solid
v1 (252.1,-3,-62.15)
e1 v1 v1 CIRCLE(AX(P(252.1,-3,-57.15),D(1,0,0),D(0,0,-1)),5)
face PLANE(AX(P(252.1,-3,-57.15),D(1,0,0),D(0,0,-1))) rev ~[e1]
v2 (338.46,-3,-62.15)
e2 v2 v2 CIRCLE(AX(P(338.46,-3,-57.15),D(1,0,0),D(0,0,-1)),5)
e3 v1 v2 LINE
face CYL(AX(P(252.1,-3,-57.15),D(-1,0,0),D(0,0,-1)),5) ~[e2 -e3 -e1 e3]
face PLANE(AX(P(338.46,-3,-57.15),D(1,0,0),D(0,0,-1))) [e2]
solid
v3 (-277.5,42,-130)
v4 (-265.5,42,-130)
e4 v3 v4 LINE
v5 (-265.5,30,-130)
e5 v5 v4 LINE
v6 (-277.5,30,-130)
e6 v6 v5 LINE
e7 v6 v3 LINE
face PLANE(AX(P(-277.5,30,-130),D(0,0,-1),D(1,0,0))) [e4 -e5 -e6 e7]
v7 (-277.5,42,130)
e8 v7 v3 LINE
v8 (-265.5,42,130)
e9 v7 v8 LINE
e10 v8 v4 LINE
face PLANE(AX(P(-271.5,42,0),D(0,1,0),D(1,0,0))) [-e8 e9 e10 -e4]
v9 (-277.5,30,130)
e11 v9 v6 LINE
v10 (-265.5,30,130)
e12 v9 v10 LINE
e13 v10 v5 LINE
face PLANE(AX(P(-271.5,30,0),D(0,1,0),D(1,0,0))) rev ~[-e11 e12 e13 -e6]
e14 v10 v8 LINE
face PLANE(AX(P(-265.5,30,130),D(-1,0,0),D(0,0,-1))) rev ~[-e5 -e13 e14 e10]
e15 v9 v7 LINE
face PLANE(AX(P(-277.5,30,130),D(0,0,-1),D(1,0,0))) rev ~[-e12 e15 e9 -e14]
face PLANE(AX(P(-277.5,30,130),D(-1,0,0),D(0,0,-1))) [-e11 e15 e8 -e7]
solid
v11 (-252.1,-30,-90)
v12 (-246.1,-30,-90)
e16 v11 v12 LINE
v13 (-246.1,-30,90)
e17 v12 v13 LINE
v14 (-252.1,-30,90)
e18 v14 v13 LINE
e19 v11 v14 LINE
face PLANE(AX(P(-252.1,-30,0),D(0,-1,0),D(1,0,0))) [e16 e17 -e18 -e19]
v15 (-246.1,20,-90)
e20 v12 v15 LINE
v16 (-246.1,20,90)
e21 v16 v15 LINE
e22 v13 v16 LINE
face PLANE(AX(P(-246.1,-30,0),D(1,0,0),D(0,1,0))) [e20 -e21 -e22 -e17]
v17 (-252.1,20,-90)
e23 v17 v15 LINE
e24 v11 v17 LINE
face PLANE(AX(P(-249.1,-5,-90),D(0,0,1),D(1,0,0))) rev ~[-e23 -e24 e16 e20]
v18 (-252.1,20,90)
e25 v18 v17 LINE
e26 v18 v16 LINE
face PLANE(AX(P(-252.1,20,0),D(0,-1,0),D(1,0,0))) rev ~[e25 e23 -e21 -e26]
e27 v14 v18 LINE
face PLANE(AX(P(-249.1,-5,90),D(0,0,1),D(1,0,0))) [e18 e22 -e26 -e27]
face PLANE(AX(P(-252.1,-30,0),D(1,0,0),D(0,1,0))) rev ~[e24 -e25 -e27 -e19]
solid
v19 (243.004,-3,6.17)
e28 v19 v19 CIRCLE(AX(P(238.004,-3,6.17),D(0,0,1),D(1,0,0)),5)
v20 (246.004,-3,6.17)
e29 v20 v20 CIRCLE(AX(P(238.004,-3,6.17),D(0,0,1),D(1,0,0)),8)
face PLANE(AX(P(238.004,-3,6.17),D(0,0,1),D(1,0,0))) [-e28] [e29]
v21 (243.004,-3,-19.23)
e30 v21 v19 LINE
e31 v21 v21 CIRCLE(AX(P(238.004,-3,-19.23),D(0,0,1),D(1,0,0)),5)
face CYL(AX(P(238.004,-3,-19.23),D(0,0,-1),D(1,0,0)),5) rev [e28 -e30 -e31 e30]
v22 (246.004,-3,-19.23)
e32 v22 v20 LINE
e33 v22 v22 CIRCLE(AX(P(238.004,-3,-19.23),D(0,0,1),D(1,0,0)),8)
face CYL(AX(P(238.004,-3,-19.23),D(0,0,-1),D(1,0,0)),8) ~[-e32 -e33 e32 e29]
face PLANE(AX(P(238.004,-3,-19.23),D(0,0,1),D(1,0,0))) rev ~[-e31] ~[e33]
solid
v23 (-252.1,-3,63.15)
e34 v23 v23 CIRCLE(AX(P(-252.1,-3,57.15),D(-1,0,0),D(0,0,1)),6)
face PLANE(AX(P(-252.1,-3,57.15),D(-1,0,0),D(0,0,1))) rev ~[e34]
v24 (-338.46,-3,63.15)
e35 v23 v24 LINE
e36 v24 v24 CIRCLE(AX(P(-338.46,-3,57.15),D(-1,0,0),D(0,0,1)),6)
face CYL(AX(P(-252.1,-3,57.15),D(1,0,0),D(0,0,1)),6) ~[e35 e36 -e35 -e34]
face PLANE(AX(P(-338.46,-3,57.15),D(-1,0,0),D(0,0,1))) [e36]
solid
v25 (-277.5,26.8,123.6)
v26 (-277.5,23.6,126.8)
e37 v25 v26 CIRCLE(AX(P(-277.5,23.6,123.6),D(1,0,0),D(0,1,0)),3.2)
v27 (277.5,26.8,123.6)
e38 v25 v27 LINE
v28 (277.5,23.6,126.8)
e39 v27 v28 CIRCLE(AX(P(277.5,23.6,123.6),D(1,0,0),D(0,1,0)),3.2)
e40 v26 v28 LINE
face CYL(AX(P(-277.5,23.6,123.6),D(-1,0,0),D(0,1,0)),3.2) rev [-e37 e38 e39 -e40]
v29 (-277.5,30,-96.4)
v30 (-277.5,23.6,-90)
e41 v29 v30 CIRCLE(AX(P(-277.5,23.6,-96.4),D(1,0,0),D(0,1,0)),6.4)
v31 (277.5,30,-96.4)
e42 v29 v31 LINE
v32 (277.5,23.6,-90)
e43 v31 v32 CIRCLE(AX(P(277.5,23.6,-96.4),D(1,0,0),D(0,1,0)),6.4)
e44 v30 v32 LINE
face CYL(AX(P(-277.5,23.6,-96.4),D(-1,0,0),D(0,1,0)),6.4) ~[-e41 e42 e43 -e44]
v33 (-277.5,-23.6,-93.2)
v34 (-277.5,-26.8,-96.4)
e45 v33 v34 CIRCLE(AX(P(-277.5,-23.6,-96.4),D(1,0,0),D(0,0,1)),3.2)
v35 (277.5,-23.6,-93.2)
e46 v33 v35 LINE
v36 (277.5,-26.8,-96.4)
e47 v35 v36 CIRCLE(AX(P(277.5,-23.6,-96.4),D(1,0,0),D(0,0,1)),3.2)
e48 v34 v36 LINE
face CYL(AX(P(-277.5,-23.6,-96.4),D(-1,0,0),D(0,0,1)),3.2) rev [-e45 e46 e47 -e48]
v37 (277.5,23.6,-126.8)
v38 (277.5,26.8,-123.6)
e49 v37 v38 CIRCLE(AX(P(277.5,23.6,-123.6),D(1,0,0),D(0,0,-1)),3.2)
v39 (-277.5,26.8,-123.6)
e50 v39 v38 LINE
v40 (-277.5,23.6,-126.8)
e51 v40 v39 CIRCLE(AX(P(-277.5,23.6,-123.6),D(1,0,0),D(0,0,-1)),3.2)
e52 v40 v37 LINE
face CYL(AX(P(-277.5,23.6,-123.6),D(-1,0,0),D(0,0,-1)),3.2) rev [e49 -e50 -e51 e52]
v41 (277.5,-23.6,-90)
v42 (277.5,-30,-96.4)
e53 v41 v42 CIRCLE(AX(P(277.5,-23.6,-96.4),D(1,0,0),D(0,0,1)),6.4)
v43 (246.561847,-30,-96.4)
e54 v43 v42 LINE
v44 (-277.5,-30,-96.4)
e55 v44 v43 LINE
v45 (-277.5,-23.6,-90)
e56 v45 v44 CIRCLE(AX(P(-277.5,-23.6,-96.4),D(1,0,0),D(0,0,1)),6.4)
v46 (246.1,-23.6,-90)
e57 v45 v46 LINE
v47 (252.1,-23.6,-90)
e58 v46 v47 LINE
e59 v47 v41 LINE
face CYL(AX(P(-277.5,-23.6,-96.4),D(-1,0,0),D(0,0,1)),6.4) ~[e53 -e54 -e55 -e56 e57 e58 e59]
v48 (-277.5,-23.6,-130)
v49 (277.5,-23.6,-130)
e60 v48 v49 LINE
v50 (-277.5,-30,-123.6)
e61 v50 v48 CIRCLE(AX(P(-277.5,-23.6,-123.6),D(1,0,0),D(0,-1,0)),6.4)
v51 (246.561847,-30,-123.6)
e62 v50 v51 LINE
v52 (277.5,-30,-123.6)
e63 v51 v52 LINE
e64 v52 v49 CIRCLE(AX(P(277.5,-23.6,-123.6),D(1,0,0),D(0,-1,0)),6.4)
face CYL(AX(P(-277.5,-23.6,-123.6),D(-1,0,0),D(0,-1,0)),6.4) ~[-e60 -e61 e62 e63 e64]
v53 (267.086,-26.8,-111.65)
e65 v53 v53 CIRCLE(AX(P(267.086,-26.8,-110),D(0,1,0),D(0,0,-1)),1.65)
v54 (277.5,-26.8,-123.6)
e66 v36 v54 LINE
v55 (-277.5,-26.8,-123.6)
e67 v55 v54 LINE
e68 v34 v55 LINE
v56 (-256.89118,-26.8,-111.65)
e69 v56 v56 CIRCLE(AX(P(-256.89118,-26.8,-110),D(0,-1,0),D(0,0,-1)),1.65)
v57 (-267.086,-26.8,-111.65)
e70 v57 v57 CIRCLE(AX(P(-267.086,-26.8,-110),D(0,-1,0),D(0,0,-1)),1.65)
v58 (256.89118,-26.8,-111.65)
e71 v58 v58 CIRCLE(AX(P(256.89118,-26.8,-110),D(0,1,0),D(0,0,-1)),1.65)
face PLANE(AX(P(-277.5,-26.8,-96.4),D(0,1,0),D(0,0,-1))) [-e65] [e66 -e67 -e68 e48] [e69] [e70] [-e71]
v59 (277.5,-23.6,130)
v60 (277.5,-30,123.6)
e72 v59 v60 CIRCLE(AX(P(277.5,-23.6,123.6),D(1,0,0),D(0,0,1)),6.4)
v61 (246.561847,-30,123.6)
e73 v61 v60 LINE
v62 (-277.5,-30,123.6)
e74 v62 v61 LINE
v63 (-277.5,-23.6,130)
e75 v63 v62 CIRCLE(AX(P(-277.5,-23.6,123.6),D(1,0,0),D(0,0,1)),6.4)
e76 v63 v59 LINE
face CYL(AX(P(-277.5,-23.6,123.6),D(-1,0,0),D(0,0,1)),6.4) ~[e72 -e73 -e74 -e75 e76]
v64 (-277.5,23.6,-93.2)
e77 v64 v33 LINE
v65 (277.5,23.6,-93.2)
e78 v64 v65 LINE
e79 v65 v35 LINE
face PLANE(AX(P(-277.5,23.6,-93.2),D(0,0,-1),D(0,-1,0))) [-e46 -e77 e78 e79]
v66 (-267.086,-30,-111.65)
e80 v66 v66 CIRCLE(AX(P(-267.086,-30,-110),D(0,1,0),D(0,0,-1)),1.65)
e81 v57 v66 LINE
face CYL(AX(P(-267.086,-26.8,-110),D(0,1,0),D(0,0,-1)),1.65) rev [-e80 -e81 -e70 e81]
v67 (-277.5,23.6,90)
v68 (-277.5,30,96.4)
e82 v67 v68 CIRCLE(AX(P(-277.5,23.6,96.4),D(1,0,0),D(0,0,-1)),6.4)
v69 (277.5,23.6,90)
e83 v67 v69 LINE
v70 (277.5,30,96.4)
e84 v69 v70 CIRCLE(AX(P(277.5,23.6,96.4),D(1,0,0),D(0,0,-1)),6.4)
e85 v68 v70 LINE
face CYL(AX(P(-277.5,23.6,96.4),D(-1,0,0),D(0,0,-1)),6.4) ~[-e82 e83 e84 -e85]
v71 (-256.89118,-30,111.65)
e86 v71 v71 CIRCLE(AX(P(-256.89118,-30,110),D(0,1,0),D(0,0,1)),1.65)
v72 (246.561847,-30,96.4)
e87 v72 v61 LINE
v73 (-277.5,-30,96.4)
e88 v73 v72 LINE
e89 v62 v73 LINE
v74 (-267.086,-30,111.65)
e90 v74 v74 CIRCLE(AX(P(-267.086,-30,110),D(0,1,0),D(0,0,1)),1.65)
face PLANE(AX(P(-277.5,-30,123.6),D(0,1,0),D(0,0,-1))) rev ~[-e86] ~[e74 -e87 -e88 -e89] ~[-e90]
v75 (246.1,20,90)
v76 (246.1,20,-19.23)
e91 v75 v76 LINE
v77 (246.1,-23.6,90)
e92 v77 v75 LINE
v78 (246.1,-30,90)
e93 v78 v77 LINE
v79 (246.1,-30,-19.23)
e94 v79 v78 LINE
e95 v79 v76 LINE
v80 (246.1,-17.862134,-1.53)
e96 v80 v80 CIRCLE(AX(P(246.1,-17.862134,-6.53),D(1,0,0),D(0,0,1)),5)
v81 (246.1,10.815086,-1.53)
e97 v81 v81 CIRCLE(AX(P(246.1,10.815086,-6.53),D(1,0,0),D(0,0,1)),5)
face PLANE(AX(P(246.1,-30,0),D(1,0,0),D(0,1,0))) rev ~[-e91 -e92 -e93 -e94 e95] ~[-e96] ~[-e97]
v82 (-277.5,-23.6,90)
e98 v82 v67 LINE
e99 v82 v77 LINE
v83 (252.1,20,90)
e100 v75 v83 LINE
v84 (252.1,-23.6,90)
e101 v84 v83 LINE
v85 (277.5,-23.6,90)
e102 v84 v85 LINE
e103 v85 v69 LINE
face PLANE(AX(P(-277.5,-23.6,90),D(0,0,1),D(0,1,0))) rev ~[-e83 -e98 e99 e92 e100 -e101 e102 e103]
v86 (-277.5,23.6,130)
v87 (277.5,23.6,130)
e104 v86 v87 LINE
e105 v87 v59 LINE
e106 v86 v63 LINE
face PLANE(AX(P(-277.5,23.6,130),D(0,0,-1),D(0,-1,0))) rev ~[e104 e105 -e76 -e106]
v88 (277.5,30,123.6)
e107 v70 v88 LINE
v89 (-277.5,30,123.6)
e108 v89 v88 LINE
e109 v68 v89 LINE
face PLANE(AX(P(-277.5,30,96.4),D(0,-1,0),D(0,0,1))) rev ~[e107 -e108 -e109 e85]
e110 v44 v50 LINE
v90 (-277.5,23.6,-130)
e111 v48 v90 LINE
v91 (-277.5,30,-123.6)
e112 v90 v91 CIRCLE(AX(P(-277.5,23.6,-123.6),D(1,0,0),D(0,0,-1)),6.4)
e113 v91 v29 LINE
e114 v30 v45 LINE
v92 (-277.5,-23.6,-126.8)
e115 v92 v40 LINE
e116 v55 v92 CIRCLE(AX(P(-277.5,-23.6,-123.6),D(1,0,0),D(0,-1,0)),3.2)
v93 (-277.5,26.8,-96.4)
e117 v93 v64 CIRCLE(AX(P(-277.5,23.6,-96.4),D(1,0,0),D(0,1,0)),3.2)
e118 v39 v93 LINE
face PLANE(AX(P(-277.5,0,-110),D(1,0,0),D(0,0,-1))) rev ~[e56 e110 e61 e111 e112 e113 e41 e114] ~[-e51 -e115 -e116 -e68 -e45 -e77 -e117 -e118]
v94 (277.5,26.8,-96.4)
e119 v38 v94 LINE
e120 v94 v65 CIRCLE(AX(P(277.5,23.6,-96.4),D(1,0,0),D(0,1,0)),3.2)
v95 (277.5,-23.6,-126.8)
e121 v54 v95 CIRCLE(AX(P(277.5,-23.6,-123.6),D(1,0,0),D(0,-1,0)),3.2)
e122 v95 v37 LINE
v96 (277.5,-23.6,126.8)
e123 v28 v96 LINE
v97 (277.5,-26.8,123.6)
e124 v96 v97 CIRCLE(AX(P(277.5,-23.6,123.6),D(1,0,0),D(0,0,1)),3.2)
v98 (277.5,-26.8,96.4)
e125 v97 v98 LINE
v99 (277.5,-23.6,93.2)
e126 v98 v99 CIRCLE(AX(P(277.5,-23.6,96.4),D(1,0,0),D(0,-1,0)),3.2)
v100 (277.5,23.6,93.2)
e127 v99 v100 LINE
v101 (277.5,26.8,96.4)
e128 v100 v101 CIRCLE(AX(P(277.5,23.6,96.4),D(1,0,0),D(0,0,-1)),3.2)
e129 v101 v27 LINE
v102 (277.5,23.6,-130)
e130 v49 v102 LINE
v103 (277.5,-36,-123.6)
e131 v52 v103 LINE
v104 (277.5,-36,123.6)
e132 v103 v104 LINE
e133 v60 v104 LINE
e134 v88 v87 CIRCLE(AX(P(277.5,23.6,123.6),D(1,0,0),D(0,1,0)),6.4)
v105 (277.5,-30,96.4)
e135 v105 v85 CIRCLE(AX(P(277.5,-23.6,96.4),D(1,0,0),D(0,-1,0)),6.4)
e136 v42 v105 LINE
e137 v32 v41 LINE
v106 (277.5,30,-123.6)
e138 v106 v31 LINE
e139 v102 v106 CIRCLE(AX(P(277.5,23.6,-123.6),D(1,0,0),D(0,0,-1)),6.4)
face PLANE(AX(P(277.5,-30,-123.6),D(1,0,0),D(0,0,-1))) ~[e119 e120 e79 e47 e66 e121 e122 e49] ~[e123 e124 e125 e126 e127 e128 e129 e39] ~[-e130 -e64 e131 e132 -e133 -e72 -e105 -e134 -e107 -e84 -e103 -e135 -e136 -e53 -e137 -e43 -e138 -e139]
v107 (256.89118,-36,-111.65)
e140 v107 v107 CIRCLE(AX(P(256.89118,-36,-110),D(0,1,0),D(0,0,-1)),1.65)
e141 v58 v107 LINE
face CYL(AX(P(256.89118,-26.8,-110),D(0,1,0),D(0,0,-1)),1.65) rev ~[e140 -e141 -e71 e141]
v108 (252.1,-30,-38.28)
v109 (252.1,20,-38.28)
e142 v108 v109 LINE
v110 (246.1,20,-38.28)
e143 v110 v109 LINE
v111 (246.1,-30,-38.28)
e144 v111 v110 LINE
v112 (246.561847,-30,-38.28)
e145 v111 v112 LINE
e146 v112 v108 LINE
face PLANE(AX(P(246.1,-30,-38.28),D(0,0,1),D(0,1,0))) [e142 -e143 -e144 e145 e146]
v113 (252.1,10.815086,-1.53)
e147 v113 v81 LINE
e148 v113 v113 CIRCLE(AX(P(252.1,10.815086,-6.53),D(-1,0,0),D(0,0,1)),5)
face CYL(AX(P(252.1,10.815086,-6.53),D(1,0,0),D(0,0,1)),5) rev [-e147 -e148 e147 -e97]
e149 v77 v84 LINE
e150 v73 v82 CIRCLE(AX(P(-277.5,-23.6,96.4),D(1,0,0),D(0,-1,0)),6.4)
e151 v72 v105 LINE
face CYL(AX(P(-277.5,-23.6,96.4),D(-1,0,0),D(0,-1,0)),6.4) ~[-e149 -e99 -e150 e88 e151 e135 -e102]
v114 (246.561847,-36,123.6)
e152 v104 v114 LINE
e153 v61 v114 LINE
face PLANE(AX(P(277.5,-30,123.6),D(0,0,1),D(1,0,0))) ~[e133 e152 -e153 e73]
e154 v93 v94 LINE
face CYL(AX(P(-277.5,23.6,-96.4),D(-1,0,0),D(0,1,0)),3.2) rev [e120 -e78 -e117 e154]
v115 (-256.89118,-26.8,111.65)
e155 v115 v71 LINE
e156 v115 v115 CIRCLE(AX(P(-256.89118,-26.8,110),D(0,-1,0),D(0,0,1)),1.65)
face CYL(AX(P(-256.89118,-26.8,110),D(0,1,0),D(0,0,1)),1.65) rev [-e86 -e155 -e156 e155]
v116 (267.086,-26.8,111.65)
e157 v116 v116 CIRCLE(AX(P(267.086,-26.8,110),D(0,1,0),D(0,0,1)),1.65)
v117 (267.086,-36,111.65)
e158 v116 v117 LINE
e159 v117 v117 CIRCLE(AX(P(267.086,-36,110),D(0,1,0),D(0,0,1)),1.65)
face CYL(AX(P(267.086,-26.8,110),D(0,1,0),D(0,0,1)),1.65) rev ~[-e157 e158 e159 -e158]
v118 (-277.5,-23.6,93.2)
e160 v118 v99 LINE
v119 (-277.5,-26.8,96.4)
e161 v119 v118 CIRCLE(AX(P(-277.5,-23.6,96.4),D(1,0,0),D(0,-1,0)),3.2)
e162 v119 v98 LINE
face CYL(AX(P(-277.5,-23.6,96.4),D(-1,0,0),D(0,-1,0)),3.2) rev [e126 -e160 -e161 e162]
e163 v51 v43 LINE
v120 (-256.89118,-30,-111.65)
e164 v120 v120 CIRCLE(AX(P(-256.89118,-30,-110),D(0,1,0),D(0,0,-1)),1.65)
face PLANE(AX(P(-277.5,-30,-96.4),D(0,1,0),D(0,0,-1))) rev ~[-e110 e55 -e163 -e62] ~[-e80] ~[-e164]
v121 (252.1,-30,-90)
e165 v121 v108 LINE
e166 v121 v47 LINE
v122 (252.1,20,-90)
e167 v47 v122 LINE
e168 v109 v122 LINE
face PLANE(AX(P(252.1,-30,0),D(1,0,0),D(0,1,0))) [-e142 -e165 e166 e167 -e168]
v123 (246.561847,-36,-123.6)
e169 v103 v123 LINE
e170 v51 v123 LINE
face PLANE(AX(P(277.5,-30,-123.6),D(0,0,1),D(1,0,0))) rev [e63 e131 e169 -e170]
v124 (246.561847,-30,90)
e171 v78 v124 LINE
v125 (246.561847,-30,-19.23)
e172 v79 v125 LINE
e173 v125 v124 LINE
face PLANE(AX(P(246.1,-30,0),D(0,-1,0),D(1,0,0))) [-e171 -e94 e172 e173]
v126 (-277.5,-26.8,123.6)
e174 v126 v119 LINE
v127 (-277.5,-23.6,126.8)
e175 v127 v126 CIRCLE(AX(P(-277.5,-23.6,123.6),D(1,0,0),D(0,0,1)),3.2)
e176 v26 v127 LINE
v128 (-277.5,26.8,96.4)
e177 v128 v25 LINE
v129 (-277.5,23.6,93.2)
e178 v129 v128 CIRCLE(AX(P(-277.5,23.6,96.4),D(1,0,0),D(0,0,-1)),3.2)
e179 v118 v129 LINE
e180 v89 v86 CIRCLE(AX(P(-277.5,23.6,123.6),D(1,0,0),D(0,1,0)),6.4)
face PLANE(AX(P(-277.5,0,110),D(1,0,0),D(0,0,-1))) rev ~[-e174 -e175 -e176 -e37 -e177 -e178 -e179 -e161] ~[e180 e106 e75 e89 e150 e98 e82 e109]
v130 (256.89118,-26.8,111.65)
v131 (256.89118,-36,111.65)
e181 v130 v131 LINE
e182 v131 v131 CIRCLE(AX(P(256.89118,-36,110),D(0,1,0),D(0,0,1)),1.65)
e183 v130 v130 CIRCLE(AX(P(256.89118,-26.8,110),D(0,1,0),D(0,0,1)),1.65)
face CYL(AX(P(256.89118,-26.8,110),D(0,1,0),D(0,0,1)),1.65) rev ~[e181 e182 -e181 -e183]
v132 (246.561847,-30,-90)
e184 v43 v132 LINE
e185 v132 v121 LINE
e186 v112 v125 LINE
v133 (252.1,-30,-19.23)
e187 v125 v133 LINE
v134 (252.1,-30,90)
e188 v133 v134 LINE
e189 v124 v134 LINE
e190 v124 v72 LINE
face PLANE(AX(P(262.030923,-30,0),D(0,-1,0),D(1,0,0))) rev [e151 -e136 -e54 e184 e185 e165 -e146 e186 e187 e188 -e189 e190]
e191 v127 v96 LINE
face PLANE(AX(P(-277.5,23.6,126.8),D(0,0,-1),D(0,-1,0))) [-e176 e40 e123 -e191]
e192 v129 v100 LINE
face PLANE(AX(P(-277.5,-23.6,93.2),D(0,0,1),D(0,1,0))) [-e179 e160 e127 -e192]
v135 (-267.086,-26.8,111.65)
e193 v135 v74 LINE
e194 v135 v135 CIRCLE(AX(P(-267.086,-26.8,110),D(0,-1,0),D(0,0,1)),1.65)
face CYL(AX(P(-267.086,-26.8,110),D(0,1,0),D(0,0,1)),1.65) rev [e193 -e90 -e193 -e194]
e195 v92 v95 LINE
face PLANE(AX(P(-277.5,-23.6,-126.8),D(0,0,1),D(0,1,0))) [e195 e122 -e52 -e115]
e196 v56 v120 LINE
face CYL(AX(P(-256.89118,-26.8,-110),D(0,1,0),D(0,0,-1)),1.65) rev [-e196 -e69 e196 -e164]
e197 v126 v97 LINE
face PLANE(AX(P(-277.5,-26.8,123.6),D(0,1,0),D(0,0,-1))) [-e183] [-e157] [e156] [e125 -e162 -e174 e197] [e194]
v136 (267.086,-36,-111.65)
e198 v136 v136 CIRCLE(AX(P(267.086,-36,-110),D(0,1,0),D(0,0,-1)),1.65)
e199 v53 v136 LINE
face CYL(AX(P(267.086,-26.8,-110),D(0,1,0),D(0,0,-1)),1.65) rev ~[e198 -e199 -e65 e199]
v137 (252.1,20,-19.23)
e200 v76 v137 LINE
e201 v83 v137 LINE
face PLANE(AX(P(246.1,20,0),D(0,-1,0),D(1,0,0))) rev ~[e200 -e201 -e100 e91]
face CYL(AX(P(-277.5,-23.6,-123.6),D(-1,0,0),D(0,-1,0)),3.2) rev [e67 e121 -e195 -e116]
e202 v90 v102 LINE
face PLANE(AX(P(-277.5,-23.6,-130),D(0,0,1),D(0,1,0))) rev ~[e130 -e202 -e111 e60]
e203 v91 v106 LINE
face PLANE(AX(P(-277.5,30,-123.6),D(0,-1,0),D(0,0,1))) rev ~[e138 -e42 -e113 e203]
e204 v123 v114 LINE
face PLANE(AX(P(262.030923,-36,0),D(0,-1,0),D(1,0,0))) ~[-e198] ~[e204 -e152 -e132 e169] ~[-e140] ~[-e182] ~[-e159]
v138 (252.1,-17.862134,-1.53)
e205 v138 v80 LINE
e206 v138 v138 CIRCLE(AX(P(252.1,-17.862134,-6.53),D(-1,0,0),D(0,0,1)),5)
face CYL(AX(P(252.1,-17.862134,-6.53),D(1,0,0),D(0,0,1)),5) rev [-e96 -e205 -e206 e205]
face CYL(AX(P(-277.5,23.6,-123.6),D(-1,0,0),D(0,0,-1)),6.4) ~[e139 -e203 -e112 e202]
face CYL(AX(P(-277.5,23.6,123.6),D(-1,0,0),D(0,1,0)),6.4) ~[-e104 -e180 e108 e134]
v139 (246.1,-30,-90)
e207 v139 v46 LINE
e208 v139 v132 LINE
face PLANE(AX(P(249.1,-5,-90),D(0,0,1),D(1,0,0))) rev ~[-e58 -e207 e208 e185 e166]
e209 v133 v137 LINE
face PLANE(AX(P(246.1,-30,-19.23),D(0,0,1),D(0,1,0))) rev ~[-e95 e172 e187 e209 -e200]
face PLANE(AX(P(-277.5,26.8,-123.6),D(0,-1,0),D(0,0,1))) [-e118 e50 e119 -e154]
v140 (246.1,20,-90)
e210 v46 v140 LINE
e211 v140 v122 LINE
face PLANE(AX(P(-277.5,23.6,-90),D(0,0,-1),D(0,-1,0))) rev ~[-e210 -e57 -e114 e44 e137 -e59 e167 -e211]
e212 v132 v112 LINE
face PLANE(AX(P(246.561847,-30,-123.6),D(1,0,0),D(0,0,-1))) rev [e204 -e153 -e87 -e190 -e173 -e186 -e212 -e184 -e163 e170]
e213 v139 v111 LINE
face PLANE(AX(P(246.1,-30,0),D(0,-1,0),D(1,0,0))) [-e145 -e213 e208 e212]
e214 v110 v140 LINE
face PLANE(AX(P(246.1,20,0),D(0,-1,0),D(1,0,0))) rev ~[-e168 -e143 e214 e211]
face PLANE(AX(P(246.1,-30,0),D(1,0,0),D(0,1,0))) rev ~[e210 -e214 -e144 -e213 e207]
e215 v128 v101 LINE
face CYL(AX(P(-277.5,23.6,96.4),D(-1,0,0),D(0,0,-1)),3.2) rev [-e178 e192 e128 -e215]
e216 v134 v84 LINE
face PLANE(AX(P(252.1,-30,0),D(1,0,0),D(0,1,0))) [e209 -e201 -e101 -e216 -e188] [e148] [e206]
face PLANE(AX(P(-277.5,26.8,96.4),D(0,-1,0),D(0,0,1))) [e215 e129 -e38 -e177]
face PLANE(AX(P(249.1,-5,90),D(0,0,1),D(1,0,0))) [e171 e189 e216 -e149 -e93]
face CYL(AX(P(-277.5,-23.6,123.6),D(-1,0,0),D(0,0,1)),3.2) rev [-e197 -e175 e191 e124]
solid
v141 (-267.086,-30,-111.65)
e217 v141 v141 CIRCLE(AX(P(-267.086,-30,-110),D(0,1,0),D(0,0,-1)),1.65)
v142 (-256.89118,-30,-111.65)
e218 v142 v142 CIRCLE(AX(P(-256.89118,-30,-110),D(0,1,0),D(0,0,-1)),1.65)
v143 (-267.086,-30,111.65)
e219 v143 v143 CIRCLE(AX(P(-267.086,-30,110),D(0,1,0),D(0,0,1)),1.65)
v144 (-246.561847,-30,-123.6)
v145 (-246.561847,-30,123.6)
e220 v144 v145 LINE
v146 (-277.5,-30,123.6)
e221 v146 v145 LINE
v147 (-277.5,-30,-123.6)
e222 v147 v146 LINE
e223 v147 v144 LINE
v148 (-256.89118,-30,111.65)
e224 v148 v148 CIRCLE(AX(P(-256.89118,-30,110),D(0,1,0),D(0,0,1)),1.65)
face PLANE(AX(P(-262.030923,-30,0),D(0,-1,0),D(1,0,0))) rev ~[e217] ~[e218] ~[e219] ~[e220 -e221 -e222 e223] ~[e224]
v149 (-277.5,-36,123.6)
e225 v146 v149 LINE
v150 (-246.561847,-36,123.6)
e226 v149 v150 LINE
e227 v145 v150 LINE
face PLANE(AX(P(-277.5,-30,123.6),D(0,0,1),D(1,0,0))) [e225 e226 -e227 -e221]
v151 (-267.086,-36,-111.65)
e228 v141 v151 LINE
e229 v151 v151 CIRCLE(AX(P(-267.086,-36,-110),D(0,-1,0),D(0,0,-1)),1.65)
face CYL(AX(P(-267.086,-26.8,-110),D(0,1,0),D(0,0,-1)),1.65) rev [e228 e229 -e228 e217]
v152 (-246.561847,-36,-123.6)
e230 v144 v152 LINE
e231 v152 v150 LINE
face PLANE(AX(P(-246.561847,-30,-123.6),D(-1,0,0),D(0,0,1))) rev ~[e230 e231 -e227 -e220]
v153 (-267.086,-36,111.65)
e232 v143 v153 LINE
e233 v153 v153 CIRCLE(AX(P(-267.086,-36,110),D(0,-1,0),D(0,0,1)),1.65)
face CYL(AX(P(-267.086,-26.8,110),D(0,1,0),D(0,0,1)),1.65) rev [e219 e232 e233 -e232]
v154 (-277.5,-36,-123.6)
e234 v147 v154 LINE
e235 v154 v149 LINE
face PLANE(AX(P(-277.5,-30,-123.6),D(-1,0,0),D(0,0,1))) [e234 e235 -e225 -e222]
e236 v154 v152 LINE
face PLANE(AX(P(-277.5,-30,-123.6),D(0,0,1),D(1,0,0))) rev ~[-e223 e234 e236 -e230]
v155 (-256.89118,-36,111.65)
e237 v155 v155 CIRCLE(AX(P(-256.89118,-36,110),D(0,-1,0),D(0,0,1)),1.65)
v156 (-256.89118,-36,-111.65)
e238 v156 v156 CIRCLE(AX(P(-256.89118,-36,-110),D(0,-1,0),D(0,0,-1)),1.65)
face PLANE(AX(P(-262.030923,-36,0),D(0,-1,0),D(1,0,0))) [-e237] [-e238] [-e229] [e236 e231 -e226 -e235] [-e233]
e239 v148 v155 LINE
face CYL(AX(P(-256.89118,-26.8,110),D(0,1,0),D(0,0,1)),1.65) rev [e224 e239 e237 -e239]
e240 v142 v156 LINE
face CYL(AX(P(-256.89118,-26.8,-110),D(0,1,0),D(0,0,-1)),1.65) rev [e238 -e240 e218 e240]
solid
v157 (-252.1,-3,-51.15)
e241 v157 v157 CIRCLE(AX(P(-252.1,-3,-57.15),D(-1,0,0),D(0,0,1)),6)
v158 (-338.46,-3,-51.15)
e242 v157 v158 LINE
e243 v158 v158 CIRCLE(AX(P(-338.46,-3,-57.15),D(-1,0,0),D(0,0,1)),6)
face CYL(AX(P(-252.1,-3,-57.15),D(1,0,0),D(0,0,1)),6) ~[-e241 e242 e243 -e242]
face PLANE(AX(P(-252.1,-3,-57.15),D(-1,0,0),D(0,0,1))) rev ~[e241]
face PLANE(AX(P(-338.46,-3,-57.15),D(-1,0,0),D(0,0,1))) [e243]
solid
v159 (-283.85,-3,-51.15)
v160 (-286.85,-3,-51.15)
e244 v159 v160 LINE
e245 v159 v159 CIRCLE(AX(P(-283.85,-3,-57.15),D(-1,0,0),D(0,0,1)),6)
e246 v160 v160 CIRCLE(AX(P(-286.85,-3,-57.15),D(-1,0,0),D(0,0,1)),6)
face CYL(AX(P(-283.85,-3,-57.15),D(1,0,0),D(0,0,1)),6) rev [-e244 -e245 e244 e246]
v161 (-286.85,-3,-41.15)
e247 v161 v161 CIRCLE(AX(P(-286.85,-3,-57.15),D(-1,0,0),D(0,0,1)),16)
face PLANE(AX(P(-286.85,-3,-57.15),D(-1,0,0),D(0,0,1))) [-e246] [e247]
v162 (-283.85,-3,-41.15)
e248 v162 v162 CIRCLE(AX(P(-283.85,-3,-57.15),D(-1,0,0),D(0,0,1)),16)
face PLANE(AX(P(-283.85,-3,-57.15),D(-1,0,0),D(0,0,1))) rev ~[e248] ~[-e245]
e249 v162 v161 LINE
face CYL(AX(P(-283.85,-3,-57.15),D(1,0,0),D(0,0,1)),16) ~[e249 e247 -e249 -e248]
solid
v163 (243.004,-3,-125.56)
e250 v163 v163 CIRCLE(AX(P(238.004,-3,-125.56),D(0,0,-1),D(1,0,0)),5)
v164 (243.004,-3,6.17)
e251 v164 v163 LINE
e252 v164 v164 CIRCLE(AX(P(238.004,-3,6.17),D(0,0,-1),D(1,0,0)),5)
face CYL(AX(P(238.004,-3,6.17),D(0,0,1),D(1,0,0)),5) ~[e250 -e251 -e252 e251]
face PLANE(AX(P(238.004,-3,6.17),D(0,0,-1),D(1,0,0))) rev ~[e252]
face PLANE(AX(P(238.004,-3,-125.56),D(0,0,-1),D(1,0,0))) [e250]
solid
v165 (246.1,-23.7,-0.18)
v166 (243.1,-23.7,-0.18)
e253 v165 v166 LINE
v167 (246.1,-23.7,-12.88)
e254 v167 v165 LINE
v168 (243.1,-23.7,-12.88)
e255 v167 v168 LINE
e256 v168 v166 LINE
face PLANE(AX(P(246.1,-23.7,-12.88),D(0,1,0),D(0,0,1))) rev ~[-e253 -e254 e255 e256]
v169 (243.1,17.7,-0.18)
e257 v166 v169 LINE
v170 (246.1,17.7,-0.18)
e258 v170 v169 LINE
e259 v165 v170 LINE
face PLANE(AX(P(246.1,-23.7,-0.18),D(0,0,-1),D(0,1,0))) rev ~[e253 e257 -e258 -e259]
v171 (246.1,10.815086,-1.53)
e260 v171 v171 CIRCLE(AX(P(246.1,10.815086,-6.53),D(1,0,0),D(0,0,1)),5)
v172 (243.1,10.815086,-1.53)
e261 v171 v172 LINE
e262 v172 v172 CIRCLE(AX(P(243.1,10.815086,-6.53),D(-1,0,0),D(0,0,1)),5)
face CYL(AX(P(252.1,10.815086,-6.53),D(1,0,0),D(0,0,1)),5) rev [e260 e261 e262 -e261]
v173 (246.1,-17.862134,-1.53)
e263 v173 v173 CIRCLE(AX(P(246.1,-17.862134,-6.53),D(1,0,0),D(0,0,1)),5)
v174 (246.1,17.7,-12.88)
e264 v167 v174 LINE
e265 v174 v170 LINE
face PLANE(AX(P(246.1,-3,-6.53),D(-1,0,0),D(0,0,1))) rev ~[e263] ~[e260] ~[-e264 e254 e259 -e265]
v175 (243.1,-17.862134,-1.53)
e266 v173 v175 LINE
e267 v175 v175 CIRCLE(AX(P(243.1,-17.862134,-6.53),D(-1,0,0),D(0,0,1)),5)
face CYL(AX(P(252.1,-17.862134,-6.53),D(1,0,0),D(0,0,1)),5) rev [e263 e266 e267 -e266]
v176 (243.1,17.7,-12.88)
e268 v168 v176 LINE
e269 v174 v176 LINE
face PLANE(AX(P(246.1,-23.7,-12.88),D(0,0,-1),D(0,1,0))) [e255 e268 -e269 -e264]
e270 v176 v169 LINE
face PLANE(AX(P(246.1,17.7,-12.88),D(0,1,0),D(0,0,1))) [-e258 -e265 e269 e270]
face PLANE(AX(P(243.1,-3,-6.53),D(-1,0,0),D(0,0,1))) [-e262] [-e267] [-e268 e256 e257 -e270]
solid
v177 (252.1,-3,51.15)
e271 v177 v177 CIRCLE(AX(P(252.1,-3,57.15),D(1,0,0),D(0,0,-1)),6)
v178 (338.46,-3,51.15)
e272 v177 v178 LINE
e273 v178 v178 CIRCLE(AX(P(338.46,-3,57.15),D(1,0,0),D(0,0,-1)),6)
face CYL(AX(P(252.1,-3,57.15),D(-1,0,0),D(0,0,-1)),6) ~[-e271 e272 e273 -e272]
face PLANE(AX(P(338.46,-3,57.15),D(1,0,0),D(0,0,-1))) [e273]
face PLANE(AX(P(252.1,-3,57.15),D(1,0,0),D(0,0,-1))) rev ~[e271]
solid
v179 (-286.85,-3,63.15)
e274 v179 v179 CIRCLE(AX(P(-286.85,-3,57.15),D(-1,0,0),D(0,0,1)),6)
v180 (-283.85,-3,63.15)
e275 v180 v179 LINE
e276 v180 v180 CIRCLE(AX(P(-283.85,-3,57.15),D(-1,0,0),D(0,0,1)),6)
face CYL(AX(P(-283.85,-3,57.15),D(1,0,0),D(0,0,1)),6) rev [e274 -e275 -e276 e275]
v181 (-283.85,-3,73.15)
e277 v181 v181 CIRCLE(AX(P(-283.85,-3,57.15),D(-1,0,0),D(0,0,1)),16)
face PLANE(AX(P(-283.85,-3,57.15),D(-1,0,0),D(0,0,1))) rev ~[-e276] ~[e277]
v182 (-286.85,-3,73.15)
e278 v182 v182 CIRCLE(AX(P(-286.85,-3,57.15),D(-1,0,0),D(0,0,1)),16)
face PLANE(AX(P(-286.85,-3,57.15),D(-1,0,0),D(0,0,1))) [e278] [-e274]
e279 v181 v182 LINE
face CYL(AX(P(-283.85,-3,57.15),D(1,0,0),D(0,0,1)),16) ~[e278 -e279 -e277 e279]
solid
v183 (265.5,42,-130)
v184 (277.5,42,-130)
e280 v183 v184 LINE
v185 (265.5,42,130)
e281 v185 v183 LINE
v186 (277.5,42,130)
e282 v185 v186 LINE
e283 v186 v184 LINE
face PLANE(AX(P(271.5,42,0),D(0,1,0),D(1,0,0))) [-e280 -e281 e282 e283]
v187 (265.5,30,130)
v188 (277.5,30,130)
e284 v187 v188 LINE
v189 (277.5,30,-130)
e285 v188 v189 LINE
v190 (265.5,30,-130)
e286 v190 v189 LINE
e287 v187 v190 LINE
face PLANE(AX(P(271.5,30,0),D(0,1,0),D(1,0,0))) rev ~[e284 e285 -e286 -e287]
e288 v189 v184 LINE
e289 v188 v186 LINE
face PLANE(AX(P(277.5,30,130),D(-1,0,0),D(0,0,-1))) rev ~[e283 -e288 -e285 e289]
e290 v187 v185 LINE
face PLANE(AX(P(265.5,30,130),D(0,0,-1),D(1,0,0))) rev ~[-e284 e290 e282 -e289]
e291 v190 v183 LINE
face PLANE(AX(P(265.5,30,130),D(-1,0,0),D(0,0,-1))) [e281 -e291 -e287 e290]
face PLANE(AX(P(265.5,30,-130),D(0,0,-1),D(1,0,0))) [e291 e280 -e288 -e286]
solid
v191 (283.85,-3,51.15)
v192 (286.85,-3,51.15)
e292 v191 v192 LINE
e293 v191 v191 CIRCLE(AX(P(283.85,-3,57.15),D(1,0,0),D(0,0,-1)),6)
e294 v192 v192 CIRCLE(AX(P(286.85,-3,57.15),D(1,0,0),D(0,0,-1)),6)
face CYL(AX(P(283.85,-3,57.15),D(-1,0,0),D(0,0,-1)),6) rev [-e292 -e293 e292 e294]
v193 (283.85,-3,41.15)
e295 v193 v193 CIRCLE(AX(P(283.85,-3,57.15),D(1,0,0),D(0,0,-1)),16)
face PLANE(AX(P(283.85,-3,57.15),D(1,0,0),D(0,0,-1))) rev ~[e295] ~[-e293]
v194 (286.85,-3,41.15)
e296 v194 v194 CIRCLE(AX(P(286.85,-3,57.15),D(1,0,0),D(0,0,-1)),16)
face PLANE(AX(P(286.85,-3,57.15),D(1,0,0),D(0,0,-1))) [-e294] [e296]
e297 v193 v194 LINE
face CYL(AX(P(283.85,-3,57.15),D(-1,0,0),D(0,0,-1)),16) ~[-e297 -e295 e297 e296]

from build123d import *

# Parameters (mm, degrees)
C_PROGRAM_FILES_SOLIDWORKS_CORP_SOLIDWOR_DEPTH = 555
C_PROGRAM_FILES_SOLIDWORKS_CORP_SOLI_2_DEPTH   = 555
SKETCH3_W                                      = 12
SKETCH3_H                                      = 260
BOSS_EXTRUDE1_DEPTH                            = 12
BOSS_EXTRUDE1_2_DEPTH                          = 12
SKETCH4_W                                      = 6
SKETCH4_H                                      = 50
BOSS_EXTRUDE2_DEPTH                            = 90
BOSS_EXTRUDE2_2_DEPTH                          = 90
SKETCH5_R                                      = 6
BOSS_EXTRUDE3_DEPTH                            = 86.36
BOSS_EXTRUDE3_2_DEPTH                          = 86.36
BOSS_EXTRUDE4_START                            = -54.61
SKETCH7_R                                      = 16
SKETCH7_R_2                                    = 6
BOSS_EXTRUDE4_DEPTH                            = 3
BOSS_EXTRUDE4_2_DEPTH                          = 3
SKETCH8_R                                      = 6
BOSS_EXTRUDE5_DEPTH                            = 86.36
SKETCH8_R_2                                    = 5
BOSS_EXTRUDE5_2_DEPTH                          = 86.36
BOSS_EXTRUDE6_START                            = -54.61
SKETCH9_R                                      = 16
SKETCH9_R_2                                    = 6
BOSS_EXTRUDE6_DEPTH                            = 3
SKETCH10_W                                     = 30.93815304
SKETCH10_H                                     = 247.2
BOSS_EXTRUDE7_DEPTH                            = 6
CUT_EXTRUDE1_START                             = -9.2
SKETCH11_R                                     = 1.65
CUT_EXTRUDE1_DEPTH                             = 9.2
SKETCH18_R                                     = 8
SKETCH18_R_2                                   = 5
EXTRUDE_THIN1_DEPTH                            = 25.4
BOSS_EXTRUDE8_START                            = -25.4
SKETCH19_R                                     = 5
BOSS_EXTRUDE8_DEPTH                            = 131.73
SKETCH20_W                                     = 12.7
SKETCH20_H                                     = 41.4
BOSS_EXTRUDE9_DEPTH                            = 3
CUT_EXTRUDE2_START                             = -9
SKETCH21_R                                     = 5
CUT_EXTRUDE2_DEPTH                             = 9
SKETCH22_W                                     = 19.05
SKETCH22_H                                     = 50
CUT_EXTRUDE3_DEPTH                             = 6


with BuildPart() as part:
    # Sketch1 → C_PROGRAM FILES_SOLIDWORKS CORP_SOLIDWOR (new body)
    with BuildSketch(Plane(origin=(-277.5, 0, 110), x_dir=(0, 0, -1), z_dir=(1, 0, 0))):
        with BuildLine():
            Line((-13.6, -30), (13.6, -30))
            ThreePointArc((13.6, -30), (18.1254834, -28.1254834), (20, -23.6))
            Line((20, -23.6), (20, 23.6))
            ThreePointArc((20, 23.6), (18.1254834, 28.1254834), (13.6, 30))
            Line((13.6, 30), (-13.6, 30))
            ThreePointArc((-13.6, 30), (-18.1254834, 28.1254834), (-20, 23.6))
            Line((-20, 23.6), (-20, -23.6))
            ThreePointArc((-20, -23.6), (-18.1254834, -28.1254834), (-13.6, -30))
        make_face()
        with BuildLine():
            Line((-13.6, -26.8), (13.6, -26.8))
            ThreePointArc((13.6, -26.8), (15.8627417, -25.8627417), (16.8, -23.6))
            Line((16.8, -23.6), (16.8, 23.6))
            ThreePointArc((16.8, 23.6), (15.8627417, 25.8627417), (13.6, 26.8))
            Line((13.6, 26.8), (-13.6, 26.8))
            ThreePointArc((-13.6, 26.8), (-15.8627417, 25.8627417), (-16.8, 23.6))
            Line((-16.8, 23.6), (-16.8, -23.6))
            ThreePointArc((-16.8, -23.6), (-15.8627417, -25.8627417), (-13.6, -26.8))
        make_face(mode=Mode.SUBTRACT)
    extrude(amount=C_PROGRAM_FILES_SOLIDWORKS_CORP_SOLIDWOR_DEPTH)


with BuildPart() as body_2:
    # Sketch1 on segment 2 (carried to segment 2) → C_PROGRAM FILES_SOLIDWORKS CORP_SOLI 2 (new body)
    with BuildSketch(Plane(origin=(-277.5, 0, -110), x_dir=(0, 0, -1), z_dir=(1, 0, 0))):
        with BuildLine():
            Line((-13.6, -30), (13.6, -30))
            ThreePointArc((13.6, -30), (18.1254834, -28.1254834), (20, -23.6))
            Line((20, -23.6), (20, 23.6))
            ThreePointArc((20, 23.6), (18.1254834, 28.1254834), (13.6, 30))
            Line((13.6, 30), (-13.6, 30))
            ThreePointArc((-13.6, 30), (-18.1254834, 28.1254834), (-20, 23.6))
            Line((-20, 23.6), (-20, -23.6))
            ThreePointArc((-20, -23.6), (-18.1254834, -28.1254834), (-13.6, -30))
        make_face()
        with BuildLine():
            Line((-13.6, -26.8), (13.6, -26.8))
            ThreePointArc((13.6, -26.8), (15.8627417, -25.8627417), (16.8, -23.6))
            Line((16.8, -23.6), (16.8, 23.6))
            ThreePointArc((16.8, 23.6), (15.8627417, 25.8627417), (13.6, 26.8))
            Line((13.6, 26.8), (-13.6, 26.8))
            ThreePointArc((-13.6, 26.8), (-15.8627417, 25.8627417), (-16.8, 23.6))
            Line((-16.8, 23.6), (-16.8, -23.6))
            ThreePointArc((-16.8, -23.6), (-15.8627417, -25.8627417), (-13.6, -26.8))
        make_face(mode=Mode.SUBTRACT)
    extrude(amount=C_PROGRAM_FILES_SOLIDWORKS_CORP_SOLI_2_DEPTH)


with BuildPart() as body_3:
    # Sketch3 → Boss-Extrude1 (new body)
    with BuildSketch(Plane(origin=(0, 30, 0), x_dir=(1, 0, 0), z_dir=(0, 1, 0))):
        with Locations((-271.5, 0)):
            Rectangle(SKETCH3_W, SKETCH3_H)
    extrude(amount=BOSS_EXTRUDE1_DEPTH)


with BuildPart() as body_4:
    # Sketch3 → Boss-Extrude1 2 (new body)
    with BuildSketch(Plane(origin=(0, 30, 0), x_dir=(1, 0, 0), z_dir=(0, 1, 0))):
        with Locations((271.5, 0)):
            Rectangle(SKETCH3_W, SKETCH3_H)
    extrude(amount=BOSS_EXTRUDE1_2_DEPTH)


with BuildPart() as body_5:
    # Sketch4 → Boss-Extrude2 (new, symmetric)
    with BuildSketch(Plane.XY):
        with Locations((-249.1, -5)):
            Rectangle(SKETCH4_W, SKETCH4_H)
    extrude(amount=BOSS_EXTRUDE2_DEPTH, both=True)


with BuildPart() as body_6:
    # Sketch4 → Boss-Extrude2 2 (new, symmetric)
    with BuildSketch(Plane.XY):
        with Locations((249.1, -5)):
            Rectangle(SKETCH4_W, SKETCH4_H)
    extrude(amount=BOSS_EXTRUDE2_2_DEPTH, both=True)


with BuildPart() as body_7:
    # Sketch5 → Boss-Extrude3 (new body)
    with BuildSketch(Plane.ZY.offset(252.1)):
        with Locations((-57.15, -3)):
            Circle(SKETCH5_R)
    extrude(amount=BOSS_EXTRUDE3_DEPTH)


with BuildPart() as body_8:
    # Sketch5 → Boss-Extrude3 2 (new body)
    with BuildSketch(Plane.ZY.offset(252.1)):
        with Locations((57.15, -3)):
            Circle(SKETCH5_R)
    extrude(amount=BOSS_EXTRUDE3_2_DEPTH)


with BuildPart() as body_9:
    # Sketch7 → Boss-Extrude4 (new body)
    with BuildSketch(Plane.ZY.offset(338.46).offset(BOSS_EXTRUDE4_START)):
        with Locations((-57.15, -3)):
            Circle(SKETCH7_R)
        with Locations((-57.15, -3)):
            Circle(SKETCH7_R_2, mode=Mode.SUBTRACT)
    extrude(amount=BOSS_EXTRUDE4_DEPTH)


with BuildPart() as body_10:
    # Sketch7 → Boss-Extrude4 2 (new body)
    with BuildSketch(Plane.ZY.offset(338.46).offset(BOSS_EXTRUDE4_START)):
        with Locations((57.15, -3)):
            Circle(SKETCH7_R)
        with Locations((57.15, -3)):
            Circle(SKETCH7_R_2, mode=Mode.SUBTRACT)
    extrude(amount=BOSS_EXTRUDE4_2_DEPTH)


with BuildPart() as body_11:
    # Sketch8 → Boss-Extrude5 (new body)
    with BuildSketch(Plane(origin=(252.1, 0, 0), x_dir=(0, 0, -1), z_dir=(1, 0, 0))):
        with Locations((-57.15, -3)):
            Circle(SKETCH8_R)
    extrude(amount=BOSS_EXTRUDE5_DEPTH)


with BuildPart() as body_12:
    # Sketch8 → Boss-Extrude5 2 (new body)
    with BuildSketch(Plane(origin=(252.1, 0, 0), x_dir=(0, 0, -1), z_dir=(1, 0, 0))):
        with Locations((57.15, -3)):
            Circle(SKETCH8_R_2)
    extrude(amount=BOSS_EXTRUDE5_2_DEPTH)


with BuildPart() as body_13:
    # Sketch9 → Boss-Extrude6 (new body)
    with BuildSketch(Plane(origin=(338.46, 0, 0), x_dir=(0, 0, -1), z_dir=(1, 0, 0)).offset(BOSS_EXTRUDE6_START)):
        with Locations((-57.15, -3)):
            Circle(SKETCH9_R)
        with Locations((-57.15, -3)):
            Circle(SKETCH9_R_2, mode=Mode.SUBTRACT)
    extrude(amount=BOSS_EXTRUDE6_DEPTH)


with BuildPart() as body_14:
    # Sketch10 → Boss-Extrude7 (new body)
    with BuildSketch(Plane.XZ.offset(30)):
        with Locations((-262.03092348, 0)):
            Rectangle(SKETCH10_W, SKETCH10_H)
    boss_extrude7 = extrude(amount=BOSS_EXTRUDE7_DEPTH)


with BuildPart() as cut_extrude1_tool:
    # Sketch11 → Cut-Extrude1 (new body)
    with BuildSketch(Plane.XZ.offset(36).offset(CUT_EXTRUDE1_START)):
        with Locations(Location((-256.891180293, -110, 0), (0, 0, 270))):
            Circle(SKETCH11_R)
        with Locations(Location((-267.086, -110, 0), (0, 0, 270))):
            Circle(SKETCH11_R)
        with Locations(Location((-267.086, 110, 0), (0, 0, 90))):
            Circle(SKETCH11_R)
        with Locations(Location((-256.891180293, 110, 0), (0, 0, 90))):
            Circle(SKETCH11_R)
    cut_extrude1 = extrude(amount=CUT_EXTRUDE1_DEPTH)


with BuildPart() as part_1:
    add(part.part)

    # Cut-Extrude1: cut by cut_extrude1_tool
    add(cut_extrude1_tool.part, mode=Mode.SUBTRACT)



with BuildPart() as body_2_1:
    add(body_2.part)

    # Cut-Extrude1: cut by cut_extrude1_tool
    add(cut_extrude1_tool.part, mode=Mode.SUBTRACT)


with BuildPart() as body_14_1:
    add(body_14.part)

    # Cut-Extrude1: cut by cut_extrude1_tool
    add(cut_extrude1_tool.part, mode=Mode.SUBTRACT)


with BuildPart() as part_2:
    add(part_1.part)

    add(body_2_1.part)  # Mirror1 merges body 2

    add(body_6.part)  # Mirror1 merges body 6
    # Mirror1: Boss-Extrude7 across plane
    add(boss_extrude7.mirror(Plane(origin=(0, 0, 0), x_dir=(0, 0, 1), z_dir=(1, 0, 0))))

    # Mirror1 2: Cut-Extrude1 across plane
    add(cut_extrude1.mirror(Plane(origin=(0, 0, 0), x_dir=(0, 0, 1), z_dir=(1, 0, 0))), mode=Mode.SUBTRACT)


with BuildPart() as body_13_2:
    # Sketch18 → Extrude-Thin1 (new body)
    with BuildSketch(Plane.XY.offset(-19.230000062)):
        with Locations((238.003999998, -3)):
            Circle(SKETCH18_R)
        with Locations((238.003999998, -3)):
            Circle(SKETCH18_R_2, mode=Mode.SUBTRACT)
    extrude(amount=EXTRUDE_THIN1_DEPTH)


with BuildPart() as body_14_2:
    # Sketch19 → Boss-Extrude8 (new body)
    with BuildSketch(Plane(origin=(0, 0, -19.230000062), x_dir=(-1, 0, 0), z_dir=(0, 0, -1)).offset(BOSS_EXTRUDE8_START)):
        with Locations(Location((-238.003999998, -3, 0), (0, 0, 180))):
            Circle(SKETCH19_R)
    extrude(amount=BOSS_EXTRUDE8_DEPTH)


with BuildPart() as body_15:
    # Sketch20 → Boss-Extrude9 (new body)
    with BuildSketch(Plane.ZY.offset(-246.1)):
        with Locations((-6.530000062, -3)):
            Rectangle(SKETCH20_W, SKETCH20_H)
    extrude(amount=BOSS_EXTRUDE9_DEPTH)


with BuildPart() as cut_extrude2_tool:
    # Sketch21 → Cut-Extrude2 (new body)
    with BuildSketch(Plane.ZY.offset(-243.1).offset(CUT_EXTRUDE2_START)):
        with Locations((-6.530000062, 10.815086206)):
            Circle(SKETCH21_R)
        with Locations((-6.530000062, -17.86213385)):
            Circle(SKETCH21_R)
    extrude(amount=CUT_EXTRUDE2_DEPTH)


with BuildPart() as part_3:
    add(part_2.part)

    # Cut-Extrude2: cut by cut_extrude2_tool
    add(cut_extrude2_tool.part, mode=Mode.SUBTRACT)

    # Sketch22 → Cut-Extrude3 (cut)
    with BuildSketch(Plane.ZY.offset(-246.1)):
        with Locations((-28.755000062, -5)):
            Rectangle(SKETCH22_W, SKETCH22_H)
    extrude(amount=-CUT_EXTRUDE3_DEPTH, mode=Mode.SUBTRACT)


with BuildPart() as body_15_1:
    add(body_15.part)

    # Cut-Extrude2: cut by cut_extrude2_tool
    add(cut_extrude2_tool.part, mode=Mode.SUBTRACT)


solid = Compound([body_3.part, body_4.part, body_5.part, body_7.part, body_8.part, body_9.part, body_10.part, body_11.part, body_12.part, body_13.part, body_14_1.part, body_13_2.part, body_14_2.part, part_3.part, body_15_1.part])
